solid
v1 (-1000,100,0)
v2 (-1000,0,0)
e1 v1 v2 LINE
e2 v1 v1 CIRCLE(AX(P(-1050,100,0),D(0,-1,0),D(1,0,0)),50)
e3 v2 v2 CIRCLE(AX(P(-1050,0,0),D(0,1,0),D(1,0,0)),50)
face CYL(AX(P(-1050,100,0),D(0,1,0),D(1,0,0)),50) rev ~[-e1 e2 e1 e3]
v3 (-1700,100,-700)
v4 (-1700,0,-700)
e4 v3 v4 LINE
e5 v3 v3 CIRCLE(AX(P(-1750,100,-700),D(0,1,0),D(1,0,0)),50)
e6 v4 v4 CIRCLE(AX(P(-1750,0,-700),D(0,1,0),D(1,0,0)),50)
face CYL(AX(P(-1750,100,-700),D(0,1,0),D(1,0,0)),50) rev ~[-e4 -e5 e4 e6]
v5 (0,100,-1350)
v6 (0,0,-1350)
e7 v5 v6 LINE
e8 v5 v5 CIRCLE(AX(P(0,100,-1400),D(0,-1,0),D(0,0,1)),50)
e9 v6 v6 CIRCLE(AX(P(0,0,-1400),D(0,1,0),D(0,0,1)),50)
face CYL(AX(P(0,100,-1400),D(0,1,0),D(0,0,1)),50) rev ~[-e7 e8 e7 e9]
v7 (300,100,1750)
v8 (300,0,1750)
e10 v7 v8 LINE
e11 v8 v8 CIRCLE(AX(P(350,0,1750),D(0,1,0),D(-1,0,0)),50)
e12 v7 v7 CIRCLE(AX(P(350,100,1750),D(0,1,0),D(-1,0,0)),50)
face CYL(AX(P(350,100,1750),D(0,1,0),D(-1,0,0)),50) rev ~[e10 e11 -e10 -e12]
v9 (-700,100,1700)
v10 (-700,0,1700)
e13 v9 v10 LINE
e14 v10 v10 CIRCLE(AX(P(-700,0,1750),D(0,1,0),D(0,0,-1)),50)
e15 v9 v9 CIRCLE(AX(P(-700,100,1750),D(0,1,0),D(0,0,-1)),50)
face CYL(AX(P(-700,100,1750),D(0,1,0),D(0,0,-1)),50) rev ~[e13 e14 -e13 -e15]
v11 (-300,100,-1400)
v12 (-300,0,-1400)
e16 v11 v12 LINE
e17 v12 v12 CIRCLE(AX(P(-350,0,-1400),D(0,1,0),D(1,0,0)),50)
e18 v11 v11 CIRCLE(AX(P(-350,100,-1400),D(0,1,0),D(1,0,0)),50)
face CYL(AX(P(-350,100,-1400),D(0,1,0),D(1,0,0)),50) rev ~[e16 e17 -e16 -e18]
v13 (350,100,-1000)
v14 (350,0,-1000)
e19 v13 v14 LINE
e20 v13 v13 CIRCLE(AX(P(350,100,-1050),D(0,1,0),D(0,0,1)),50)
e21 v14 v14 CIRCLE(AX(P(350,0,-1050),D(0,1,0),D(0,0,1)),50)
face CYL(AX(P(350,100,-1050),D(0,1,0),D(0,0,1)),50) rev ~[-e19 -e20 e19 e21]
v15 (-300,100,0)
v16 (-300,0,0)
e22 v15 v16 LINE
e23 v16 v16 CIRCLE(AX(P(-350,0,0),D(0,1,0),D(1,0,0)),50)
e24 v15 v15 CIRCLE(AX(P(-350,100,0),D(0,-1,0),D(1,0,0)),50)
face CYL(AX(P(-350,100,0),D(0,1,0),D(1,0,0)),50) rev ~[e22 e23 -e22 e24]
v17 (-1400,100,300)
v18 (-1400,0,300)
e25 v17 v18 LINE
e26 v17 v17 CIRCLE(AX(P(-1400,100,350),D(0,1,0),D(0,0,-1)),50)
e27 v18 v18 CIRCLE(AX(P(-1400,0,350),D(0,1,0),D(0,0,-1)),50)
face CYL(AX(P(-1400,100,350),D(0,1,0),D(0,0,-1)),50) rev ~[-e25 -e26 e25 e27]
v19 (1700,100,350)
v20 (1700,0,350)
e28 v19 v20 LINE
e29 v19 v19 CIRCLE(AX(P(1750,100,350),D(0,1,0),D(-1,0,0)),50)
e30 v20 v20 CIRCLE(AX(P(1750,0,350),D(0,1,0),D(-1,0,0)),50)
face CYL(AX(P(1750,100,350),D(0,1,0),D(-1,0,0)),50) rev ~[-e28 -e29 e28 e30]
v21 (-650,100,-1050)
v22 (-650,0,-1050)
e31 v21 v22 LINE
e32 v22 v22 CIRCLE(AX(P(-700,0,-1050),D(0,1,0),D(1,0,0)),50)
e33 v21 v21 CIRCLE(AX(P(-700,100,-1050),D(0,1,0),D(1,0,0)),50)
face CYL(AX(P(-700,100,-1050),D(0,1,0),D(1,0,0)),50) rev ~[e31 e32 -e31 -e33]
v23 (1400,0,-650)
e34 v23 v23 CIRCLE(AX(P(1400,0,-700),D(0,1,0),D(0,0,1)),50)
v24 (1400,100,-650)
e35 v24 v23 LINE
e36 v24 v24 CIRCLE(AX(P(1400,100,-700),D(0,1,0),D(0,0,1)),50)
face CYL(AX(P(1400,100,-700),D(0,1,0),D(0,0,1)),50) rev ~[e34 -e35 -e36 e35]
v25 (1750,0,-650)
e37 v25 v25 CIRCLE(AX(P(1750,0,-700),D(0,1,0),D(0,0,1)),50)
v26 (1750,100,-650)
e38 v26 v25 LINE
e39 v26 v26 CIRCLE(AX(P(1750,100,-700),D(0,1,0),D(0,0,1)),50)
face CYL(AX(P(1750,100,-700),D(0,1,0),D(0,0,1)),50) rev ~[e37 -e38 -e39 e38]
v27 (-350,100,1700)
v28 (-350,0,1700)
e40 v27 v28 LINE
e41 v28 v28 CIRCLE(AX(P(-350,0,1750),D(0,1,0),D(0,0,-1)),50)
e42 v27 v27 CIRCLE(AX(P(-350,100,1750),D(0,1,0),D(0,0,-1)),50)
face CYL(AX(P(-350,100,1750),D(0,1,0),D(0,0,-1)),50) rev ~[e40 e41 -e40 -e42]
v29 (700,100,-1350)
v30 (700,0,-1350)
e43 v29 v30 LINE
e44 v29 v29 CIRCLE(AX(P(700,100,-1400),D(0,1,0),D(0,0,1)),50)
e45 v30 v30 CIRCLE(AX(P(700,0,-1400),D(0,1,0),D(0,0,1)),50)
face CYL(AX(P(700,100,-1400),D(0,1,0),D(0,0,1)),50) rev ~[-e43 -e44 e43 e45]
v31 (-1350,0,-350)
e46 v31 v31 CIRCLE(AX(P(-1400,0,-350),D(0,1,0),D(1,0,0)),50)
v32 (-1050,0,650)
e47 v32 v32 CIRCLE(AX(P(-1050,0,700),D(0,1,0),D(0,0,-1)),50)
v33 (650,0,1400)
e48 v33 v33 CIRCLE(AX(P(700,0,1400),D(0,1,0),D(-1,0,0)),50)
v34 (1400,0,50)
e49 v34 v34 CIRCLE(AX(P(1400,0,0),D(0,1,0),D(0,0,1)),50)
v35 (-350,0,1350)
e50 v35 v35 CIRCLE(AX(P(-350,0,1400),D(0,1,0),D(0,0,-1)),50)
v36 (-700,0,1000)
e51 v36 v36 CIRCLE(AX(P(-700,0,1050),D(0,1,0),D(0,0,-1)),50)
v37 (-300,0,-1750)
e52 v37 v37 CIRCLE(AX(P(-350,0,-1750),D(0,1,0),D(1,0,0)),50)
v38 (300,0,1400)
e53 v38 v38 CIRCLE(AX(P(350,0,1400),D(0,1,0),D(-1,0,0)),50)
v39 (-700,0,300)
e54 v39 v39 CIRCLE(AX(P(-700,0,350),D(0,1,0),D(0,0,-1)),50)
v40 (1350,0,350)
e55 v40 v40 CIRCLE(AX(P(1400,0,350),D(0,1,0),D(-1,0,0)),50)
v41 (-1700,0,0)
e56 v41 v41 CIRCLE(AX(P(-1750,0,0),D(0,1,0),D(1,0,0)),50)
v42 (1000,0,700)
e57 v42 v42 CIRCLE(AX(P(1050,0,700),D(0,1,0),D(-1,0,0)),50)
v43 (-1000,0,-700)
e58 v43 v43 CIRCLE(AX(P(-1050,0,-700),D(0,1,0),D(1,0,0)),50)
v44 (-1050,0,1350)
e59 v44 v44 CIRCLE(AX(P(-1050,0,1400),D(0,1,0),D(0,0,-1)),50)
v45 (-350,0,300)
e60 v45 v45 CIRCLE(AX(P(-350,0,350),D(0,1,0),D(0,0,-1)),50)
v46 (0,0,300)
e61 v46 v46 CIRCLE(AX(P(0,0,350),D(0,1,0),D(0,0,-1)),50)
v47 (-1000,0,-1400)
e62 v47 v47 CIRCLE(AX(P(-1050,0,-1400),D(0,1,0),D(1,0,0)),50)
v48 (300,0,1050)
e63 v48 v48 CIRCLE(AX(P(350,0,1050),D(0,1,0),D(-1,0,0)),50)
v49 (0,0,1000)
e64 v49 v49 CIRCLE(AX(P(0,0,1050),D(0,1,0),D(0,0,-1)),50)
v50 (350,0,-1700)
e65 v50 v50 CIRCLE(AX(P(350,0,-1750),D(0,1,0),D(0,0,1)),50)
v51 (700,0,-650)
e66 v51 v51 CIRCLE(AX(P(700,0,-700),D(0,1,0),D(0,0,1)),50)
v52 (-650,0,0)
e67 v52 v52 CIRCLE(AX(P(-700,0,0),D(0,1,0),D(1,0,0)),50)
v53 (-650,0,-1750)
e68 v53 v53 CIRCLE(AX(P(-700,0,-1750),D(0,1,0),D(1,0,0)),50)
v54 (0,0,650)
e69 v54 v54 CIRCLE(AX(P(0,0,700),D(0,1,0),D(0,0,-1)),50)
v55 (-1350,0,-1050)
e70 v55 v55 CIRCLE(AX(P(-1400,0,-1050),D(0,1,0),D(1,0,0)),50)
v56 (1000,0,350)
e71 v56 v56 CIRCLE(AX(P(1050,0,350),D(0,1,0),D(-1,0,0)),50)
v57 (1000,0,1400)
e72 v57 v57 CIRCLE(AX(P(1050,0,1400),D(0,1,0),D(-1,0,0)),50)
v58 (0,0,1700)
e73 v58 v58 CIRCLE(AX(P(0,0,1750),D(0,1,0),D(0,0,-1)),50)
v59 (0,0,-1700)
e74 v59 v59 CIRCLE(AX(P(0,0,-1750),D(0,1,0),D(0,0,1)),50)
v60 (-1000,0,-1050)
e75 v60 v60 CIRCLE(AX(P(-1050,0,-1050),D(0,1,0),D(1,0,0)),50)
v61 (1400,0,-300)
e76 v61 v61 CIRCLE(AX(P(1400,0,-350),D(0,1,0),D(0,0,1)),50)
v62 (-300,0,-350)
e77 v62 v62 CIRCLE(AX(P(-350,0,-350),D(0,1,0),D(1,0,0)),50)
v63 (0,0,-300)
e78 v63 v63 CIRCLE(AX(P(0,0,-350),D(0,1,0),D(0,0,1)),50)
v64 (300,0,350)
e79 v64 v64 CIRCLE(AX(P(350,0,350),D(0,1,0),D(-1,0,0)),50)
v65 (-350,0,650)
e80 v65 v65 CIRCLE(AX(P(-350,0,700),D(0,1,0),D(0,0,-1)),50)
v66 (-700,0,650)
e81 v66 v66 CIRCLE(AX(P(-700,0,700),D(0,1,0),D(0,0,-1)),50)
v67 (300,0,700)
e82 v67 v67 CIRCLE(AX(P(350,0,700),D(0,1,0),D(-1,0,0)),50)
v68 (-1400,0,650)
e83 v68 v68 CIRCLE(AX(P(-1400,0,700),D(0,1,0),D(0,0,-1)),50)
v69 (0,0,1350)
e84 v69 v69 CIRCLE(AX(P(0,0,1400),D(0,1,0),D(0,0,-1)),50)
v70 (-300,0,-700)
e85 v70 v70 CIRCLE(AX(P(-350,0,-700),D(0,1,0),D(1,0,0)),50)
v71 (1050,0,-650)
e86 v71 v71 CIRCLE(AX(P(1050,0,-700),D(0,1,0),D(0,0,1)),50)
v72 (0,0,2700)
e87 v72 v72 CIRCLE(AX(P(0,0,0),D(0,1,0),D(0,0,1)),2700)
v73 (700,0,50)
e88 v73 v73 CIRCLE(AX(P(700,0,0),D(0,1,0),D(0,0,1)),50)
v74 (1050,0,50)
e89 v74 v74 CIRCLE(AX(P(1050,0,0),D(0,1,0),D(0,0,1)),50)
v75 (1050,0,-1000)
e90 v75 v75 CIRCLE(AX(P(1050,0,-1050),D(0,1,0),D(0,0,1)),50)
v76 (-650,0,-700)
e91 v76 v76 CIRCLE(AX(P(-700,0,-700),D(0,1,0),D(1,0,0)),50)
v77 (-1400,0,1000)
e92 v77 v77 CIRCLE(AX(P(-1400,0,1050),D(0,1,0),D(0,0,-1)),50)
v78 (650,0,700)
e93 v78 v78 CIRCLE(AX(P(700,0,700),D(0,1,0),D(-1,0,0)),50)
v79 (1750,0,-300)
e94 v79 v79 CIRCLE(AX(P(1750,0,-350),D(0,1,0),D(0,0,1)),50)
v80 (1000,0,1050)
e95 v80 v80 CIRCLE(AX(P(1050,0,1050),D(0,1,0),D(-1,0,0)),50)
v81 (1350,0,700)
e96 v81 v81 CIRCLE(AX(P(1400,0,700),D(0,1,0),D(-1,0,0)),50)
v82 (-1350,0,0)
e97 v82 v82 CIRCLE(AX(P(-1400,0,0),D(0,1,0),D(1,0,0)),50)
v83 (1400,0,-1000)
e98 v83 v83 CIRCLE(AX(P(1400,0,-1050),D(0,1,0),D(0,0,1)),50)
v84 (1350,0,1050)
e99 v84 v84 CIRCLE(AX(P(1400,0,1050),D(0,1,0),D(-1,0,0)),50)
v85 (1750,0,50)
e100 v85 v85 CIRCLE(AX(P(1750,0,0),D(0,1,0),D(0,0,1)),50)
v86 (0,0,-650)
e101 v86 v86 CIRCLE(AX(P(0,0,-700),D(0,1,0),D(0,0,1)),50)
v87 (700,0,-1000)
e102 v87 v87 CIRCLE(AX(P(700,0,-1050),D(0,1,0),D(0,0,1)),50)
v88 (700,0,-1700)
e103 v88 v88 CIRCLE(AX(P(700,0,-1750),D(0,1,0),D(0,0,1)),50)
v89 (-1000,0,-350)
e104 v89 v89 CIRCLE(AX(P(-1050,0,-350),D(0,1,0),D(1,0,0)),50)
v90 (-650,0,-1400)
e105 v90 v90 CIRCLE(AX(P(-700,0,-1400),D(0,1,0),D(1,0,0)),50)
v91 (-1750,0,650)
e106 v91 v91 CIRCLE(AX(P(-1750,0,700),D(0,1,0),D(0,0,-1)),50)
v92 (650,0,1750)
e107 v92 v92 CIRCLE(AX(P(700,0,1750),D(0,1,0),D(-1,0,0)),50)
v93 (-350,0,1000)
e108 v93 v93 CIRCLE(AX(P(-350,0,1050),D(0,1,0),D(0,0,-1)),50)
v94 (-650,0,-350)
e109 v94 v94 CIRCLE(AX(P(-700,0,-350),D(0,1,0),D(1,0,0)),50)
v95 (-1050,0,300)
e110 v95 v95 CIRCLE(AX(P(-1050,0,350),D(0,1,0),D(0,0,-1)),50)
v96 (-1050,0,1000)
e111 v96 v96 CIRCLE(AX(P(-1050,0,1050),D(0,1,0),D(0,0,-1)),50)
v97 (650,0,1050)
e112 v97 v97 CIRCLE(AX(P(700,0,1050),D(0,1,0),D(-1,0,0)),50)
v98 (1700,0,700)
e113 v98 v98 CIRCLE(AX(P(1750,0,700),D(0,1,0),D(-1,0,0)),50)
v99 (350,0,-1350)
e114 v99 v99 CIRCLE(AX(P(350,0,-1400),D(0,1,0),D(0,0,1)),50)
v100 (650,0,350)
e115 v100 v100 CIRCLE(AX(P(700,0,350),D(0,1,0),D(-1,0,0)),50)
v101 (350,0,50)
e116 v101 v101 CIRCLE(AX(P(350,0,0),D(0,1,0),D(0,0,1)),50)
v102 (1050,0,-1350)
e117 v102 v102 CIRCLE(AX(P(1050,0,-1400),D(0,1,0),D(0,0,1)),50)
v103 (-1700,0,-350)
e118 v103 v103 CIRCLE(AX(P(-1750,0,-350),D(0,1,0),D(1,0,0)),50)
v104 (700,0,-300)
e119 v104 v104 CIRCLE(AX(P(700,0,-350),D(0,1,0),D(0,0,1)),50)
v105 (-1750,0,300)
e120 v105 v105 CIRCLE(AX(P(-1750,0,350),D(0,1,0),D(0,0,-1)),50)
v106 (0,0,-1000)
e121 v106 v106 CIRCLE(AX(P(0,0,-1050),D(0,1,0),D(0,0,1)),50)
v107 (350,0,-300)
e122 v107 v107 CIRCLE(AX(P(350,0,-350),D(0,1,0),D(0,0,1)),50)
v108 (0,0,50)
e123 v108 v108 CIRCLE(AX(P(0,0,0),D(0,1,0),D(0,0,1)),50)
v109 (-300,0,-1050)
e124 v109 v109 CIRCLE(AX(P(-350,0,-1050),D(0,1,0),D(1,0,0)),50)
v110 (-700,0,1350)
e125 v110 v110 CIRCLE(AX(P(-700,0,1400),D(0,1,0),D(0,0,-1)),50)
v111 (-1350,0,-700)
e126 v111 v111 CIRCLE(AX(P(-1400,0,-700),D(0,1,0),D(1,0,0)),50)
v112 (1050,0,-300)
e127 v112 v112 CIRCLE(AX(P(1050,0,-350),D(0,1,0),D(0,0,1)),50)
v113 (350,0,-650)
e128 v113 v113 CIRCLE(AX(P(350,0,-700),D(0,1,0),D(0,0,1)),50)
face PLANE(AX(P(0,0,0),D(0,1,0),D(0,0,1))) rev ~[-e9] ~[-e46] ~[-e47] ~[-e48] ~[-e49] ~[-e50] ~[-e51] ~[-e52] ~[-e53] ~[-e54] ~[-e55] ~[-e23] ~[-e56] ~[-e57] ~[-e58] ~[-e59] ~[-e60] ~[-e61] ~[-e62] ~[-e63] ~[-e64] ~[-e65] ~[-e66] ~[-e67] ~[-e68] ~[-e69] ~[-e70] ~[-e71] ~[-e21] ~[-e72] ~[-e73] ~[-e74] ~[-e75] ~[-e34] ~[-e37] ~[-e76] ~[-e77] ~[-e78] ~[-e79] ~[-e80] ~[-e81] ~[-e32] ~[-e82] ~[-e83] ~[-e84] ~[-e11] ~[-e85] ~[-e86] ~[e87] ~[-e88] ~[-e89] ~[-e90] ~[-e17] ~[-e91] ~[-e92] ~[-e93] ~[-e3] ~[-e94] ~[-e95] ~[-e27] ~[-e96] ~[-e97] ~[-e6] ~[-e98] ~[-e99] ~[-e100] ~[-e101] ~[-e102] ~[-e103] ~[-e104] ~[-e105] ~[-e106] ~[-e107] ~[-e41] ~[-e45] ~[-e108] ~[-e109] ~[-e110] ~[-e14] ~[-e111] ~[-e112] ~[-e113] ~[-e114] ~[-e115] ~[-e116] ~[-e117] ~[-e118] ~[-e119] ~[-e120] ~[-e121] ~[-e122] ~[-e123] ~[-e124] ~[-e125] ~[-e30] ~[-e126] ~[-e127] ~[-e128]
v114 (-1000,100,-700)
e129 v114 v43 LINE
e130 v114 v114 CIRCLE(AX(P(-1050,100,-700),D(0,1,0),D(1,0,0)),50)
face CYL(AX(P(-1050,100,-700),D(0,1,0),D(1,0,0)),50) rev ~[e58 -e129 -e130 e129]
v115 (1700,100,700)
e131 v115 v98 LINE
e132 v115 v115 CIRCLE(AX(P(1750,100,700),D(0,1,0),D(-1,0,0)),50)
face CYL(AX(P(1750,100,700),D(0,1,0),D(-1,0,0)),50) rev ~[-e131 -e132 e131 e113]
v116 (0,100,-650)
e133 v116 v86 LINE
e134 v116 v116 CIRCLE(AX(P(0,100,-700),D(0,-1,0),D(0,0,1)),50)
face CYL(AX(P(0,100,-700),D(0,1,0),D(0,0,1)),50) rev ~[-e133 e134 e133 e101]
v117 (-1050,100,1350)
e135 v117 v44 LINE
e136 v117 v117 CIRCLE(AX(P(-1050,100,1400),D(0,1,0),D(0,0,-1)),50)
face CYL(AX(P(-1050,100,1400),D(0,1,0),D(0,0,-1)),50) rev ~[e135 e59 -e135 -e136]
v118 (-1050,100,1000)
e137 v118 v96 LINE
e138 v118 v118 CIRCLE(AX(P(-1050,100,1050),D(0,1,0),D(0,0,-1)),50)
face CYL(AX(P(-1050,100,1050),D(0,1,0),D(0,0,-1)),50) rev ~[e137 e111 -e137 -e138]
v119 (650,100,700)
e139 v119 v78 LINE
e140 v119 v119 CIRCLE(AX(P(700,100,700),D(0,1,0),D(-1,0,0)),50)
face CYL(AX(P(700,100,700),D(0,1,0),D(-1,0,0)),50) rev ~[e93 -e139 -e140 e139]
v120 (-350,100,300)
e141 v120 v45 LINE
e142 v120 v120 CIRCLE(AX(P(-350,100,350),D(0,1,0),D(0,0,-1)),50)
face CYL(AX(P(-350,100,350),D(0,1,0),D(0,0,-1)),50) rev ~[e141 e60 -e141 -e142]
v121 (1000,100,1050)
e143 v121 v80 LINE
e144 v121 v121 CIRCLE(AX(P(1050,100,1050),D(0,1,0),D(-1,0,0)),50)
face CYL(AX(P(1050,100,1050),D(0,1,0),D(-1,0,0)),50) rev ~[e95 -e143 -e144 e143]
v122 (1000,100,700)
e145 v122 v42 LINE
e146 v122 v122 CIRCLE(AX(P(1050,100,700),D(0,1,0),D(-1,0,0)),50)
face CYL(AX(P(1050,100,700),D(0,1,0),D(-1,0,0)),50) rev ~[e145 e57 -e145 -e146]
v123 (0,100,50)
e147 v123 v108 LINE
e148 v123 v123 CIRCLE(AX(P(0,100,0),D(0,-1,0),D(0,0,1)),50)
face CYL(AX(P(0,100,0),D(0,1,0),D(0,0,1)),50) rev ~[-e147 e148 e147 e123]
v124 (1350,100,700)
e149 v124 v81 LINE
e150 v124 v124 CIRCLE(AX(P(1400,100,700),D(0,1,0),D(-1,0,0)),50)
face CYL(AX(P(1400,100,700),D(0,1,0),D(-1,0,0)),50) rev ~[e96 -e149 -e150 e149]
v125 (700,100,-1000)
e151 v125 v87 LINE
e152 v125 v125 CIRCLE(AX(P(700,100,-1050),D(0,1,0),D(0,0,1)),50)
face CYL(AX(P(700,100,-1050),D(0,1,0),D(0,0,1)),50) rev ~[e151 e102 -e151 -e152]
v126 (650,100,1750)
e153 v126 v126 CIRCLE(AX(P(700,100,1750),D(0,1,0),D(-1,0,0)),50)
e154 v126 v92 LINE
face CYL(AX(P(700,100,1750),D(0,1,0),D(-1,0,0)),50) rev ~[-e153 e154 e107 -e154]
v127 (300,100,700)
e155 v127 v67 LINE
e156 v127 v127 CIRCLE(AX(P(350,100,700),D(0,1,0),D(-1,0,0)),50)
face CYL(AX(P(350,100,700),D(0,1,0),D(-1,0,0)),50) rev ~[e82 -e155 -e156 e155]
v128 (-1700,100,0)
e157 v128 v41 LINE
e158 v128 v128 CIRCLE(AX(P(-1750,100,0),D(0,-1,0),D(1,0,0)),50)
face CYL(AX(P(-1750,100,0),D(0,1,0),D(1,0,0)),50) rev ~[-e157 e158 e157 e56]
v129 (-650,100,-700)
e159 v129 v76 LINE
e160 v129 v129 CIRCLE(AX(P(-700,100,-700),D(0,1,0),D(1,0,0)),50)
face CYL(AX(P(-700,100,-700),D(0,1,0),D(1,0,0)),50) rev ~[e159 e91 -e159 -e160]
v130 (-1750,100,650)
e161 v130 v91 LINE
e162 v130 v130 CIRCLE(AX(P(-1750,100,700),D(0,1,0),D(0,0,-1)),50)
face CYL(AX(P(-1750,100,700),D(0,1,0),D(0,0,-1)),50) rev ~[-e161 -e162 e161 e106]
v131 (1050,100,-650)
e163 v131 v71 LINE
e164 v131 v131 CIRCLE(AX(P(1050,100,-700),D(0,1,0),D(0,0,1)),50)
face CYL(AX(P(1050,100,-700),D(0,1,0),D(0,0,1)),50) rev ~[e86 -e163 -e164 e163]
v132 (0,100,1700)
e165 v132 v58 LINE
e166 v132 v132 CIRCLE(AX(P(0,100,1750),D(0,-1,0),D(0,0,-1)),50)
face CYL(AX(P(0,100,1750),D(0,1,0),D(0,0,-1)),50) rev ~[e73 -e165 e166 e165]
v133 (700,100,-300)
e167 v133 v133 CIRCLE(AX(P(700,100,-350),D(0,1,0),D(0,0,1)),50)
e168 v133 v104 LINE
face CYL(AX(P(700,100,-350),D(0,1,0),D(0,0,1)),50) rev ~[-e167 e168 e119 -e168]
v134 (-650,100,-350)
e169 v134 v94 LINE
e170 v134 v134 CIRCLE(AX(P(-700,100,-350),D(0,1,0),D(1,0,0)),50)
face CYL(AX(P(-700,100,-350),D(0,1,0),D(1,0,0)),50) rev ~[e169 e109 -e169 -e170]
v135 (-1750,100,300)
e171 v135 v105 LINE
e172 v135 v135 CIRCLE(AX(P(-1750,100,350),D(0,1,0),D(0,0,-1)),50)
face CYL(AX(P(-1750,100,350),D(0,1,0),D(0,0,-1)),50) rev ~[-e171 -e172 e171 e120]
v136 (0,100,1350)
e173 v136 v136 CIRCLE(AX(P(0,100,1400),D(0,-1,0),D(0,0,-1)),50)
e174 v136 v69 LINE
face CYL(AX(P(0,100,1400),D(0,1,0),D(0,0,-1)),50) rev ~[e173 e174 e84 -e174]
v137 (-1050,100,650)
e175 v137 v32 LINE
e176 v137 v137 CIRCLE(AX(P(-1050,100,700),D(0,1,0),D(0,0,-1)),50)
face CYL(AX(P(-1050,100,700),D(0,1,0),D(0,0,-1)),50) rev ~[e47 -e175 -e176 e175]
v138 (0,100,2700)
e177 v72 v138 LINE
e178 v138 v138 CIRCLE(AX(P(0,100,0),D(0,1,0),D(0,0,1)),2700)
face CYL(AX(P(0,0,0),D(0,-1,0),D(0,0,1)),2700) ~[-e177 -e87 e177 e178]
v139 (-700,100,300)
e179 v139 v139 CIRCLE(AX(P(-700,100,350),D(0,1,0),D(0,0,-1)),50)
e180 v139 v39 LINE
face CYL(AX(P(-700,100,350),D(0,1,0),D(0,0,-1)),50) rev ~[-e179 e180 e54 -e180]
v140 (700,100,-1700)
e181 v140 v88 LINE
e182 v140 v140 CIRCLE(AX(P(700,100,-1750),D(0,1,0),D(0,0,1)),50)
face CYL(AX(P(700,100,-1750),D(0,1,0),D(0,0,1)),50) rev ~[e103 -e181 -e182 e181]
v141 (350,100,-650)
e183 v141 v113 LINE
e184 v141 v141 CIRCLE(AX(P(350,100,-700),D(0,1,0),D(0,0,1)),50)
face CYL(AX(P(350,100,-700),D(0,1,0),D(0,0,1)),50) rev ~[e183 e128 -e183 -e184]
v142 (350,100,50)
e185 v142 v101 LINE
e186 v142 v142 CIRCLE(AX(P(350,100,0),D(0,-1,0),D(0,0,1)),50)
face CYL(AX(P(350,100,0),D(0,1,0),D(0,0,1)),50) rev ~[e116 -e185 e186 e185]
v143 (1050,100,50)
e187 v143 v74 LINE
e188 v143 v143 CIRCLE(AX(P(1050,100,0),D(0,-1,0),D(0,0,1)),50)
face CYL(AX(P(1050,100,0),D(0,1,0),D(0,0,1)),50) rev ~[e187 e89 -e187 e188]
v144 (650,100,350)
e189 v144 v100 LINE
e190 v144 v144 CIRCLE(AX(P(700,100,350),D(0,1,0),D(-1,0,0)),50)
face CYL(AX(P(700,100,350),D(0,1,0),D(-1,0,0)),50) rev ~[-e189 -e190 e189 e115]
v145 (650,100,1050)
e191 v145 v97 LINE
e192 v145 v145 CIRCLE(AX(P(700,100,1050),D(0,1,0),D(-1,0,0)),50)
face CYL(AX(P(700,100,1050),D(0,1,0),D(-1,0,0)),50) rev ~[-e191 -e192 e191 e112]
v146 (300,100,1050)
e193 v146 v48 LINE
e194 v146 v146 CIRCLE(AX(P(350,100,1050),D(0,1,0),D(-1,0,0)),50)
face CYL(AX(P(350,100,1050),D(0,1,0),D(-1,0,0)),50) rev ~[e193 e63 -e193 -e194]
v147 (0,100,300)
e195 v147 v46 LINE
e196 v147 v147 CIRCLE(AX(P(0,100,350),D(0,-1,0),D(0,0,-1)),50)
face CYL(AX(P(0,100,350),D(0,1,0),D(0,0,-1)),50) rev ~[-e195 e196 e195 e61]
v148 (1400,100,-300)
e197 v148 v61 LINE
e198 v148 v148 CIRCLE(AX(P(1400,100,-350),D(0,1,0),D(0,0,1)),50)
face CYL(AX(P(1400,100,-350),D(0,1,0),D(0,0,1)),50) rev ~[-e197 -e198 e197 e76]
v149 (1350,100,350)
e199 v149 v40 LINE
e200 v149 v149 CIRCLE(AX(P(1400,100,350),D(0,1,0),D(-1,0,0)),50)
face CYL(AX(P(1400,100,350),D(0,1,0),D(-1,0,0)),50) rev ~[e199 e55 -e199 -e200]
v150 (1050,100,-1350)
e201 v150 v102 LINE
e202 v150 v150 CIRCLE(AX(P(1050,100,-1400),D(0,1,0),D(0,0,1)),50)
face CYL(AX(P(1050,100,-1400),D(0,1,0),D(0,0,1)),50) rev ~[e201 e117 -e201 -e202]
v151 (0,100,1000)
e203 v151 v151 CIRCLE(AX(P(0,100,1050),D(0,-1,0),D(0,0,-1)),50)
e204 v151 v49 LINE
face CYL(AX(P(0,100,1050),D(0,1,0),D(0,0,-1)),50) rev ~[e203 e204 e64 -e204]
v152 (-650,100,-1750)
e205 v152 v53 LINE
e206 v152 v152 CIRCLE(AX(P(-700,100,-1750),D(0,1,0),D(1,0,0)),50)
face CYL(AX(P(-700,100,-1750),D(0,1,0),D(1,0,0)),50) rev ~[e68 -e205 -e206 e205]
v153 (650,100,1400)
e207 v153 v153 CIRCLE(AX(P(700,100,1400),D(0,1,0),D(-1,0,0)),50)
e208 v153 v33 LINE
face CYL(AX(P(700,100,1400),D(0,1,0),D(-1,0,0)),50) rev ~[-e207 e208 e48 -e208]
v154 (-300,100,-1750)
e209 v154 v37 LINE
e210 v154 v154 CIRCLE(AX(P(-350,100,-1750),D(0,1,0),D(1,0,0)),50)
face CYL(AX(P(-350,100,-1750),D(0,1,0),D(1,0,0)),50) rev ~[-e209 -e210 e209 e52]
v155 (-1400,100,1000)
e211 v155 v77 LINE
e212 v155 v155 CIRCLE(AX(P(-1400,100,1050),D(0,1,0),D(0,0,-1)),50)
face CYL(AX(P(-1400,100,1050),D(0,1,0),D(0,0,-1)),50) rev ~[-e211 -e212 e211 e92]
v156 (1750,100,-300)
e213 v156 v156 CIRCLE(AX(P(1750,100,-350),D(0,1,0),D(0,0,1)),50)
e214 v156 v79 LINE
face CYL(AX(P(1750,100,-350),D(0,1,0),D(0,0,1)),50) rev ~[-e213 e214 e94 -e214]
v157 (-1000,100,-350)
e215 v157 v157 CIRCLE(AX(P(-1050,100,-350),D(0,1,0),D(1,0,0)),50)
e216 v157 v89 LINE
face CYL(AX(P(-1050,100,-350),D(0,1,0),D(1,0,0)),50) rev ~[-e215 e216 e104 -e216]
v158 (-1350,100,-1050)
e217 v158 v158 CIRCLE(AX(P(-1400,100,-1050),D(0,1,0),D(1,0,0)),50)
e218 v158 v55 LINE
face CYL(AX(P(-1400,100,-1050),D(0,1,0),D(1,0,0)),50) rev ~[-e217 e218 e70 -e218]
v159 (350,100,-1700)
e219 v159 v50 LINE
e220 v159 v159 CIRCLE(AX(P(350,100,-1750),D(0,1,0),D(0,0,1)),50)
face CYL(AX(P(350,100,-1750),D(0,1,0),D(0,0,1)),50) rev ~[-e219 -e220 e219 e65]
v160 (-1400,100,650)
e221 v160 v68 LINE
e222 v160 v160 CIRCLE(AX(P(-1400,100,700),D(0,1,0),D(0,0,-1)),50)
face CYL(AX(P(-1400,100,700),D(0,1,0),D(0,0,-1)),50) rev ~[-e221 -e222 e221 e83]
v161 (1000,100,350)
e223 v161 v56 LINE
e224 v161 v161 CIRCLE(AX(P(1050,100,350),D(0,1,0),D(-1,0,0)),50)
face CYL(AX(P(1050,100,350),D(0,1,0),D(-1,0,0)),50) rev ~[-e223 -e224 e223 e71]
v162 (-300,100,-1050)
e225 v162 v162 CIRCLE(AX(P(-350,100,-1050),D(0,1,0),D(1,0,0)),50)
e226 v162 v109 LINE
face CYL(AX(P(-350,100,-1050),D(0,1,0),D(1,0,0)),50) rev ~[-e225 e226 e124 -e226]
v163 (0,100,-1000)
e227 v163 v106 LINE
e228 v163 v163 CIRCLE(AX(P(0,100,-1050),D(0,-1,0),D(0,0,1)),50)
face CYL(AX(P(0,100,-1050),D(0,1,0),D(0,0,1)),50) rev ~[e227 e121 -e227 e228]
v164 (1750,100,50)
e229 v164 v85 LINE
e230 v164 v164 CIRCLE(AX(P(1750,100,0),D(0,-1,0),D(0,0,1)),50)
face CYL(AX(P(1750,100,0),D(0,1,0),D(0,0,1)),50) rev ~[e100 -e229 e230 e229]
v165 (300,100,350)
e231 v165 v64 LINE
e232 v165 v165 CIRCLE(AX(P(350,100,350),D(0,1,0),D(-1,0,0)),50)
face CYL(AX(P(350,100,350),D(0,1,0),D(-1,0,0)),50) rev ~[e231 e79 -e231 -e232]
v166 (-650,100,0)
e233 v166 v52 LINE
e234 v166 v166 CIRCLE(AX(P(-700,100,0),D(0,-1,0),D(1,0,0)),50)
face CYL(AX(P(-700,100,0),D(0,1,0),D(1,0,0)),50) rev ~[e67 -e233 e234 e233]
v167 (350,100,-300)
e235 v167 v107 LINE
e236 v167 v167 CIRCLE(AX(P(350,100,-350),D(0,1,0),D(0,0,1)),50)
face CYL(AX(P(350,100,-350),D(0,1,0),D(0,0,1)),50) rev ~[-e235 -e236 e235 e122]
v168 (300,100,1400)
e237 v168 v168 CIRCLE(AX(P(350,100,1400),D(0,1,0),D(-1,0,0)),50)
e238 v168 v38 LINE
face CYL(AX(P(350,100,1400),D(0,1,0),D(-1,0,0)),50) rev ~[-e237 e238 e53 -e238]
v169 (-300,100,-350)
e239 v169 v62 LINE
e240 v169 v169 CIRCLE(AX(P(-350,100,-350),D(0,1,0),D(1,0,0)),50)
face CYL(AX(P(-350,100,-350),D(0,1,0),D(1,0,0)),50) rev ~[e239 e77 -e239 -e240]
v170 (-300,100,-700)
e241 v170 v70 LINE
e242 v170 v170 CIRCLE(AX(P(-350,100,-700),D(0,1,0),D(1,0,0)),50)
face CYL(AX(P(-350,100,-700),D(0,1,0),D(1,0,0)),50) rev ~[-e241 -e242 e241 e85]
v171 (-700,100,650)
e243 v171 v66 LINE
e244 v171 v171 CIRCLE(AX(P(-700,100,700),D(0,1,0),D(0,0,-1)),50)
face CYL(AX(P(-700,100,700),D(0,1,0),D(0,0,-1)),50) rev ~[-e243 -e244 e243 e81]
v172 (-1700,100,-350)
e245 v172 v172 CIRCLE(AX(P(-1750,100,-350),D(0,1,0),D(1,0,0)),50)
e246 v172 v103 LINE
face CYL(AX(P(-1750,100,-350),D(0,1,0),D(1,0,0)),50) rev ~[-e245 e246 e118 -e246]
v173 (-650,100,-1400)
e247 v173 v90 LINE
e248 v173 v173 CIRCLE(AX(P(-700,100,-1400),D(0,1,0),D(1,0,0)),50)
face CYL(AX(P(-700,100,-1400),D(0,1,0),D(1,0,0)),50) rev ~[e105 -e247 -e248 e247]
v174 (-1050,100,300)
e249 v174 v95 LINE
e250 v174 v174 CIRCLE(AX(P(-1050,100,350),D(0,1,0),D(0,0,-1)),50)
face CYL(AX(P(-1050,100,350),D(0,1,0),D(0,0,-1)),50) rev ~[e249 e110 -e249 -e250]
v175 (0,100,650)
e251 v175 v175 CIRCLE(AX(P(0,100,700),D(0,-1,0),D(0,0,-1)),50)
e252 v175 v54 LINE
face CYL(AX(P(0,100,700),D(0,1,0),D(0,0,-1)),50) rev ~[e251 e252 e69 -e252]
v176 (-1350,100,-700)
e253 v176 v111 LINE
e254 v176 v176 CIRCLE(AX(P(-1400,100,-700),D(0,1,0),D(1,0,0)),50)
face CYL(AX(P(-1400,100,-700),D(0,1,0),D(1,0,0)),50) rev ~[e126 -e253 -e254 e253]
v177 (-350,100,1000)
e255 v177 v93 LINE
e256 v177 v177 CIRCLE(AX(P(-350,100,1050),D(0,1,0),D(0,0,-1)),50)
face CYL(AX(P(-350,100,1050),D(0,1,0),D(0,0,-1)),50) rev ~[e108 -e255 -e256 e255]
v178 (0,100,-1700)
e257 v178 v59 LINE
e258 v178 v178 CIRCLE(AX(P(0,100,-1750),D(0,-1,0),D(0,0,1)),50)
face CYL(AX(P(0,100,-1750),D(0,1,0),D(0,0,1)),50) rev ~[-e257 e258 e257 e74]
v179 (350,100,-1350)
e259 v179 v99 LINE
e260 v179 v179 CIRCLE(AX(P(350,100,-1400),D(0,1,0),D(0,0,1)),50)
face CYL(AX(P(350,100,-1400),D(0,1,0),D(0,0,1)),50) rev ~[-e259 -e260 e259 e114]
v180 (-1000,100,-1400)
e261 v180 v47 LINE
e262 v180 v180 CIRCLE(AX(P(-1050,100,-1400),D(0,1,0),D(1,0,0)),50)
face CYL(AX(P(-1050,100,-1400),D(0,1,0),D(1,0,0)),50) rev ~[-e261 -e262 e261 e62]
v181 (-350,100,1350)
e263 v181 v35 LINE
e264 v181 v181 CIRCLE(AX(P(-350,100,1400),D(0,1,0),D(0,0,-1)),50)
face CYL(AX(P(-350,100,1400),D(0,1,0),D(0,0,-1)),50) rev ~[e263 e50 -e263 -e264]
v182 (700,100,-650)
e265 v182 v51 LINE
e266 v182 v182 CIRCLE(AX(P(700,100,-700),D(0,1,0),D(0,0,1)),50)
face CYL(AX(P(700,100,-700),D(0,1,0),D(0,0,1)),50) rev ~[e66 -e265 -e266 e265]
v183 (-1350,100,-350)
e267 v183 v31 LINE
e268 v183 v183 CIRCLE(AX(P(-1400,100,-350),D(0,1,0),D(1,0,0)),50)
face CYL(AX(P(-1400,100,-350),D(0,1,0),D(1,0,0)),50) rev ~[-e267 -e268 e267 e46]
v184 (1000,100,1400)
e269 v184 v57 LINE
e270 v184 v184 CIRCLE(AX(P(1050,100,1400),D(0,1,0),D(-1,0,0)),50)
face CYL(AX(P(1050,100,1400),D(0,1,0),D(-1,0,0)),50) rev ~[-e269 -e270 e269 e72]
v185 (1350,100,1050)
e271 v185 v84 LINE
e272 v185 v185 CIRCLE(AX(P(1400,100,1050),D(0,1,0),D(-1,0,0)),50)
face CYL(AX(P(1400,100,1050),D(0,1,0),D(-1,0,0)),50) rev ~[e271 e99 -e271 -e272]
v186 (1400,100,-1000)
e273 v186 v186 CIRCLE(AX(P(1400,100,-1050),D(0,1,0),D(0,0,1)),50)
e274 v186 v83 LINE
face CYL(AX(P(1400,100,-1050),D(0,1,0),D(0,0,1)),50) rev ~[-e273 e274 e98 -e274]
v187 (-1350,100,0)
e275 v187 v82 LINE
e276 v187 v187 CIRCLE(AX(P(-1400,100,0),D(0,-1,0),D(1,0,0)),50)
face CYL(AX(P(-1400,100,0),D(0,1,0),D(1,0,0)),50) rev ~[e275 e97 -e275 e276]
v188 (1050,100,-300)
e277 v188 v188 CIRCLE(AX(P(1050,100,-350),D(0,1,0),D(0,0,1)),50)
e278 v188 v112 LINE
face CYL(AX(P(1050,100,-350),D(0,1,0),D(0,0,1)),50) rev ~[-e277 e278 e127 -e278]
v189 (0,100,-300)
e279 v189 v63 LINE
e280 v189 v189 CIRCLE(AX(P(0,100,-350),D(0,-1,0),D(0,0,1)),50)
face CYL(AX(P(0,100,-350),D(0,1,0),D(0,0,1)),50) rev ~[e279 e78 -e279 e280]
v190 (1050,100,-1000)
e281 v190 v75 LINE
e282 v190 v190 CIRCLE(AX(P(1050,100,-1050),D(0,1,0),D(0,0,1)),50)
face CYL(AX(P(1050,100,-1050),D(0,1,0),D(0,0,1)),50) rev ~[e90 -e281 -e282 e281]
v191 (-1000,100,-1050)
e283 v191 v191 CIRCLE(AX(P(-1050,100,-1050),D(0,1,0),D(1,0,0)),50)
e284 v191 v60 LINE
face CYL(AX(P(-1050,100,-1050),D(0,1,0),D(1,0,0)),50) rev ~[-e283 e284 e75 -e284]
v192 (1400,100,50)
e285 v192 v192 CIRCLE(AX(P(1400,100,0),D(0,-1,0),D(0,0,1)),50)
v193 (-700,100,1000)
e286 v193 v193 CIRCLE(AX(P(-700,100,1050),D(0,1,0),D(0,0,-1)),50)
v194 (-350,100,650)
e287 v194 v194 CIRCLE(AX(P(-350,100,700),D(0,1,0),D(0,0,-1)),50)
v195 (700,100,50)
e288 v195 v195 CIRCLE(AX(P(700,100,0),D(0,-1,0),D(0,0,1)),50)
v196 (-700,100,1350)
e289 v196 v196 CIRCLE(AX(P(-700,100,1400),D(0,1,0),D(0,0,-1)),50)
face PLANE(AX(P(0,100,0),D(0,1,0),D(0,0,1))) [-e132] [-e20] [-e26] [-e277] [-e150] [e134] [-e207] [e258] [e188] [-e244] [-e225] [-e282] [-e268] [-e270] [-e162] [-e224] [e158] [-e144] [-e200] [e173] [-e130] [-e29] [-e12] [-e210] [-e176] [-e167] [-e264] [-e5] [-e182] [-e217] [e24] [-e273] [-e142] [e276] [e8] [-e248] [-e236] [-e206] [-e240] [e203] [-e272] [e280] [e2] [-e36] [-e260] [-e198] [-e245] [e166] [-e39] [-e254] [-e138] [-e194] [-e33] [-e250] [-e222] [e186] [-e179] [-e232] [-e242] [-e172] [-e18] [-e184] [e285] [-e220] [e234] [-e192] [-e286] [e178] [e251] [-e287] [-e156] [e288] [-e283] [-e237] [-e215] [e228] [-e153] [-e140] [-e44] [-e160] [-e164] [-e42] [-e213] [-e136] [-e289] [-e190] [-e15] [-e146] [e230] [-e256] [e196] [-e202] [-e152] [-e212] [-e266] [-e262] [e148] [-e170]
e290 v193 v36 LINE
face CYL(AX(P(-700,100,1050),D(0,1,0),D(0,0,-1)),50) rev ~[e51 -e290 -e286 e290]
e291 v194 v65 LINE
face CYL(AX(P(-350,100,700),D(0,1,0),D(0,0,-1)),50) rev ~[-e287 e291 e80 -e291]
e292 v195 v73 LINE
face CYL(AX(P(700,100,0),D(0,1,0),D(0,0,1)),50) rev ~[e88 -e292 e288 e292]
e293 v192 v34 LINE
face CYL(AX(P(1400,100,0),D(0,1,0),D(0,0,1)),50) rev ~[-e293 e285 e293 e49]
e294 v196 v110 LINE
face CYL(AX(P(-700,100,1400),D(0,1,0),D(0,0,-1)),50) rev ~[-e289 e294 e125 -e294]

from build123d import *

# Parameters (mm, degrees)
SKETCH_1_R               = 2700
EXTRUDE_1_DEPTH          = 100
SKETCH_3_R               = 50
CUT_EXTRUDE_1_DEPTH      = 3820.685850957
PATTERN_CIRCULAR_1_COUNT = 4


with BuildPart() as part:
    # ｽｹｯﾁ1 → ﾎﾞｽ - 押し出し1 (new body)
    with BuildSketch(Plane(origin=(0, 0, 0), x_dir=(1, 0, 0), z_dir=(0, 1, 0))):
        Circle(SKETCH_1_R)
    extrude(amount=EXTRUDE_1_DEPTH)

    # ｽｹｯﾁ3 → ｶｯﾄ - 押し出し1 (cut, through all)
    with BuildSketch(Plane(origin=(0, 100, 0), x_dir=(1, 0, 0), z_dir=(0, 1, 0))):
        Circle(SKETCH_3_R)
        with Locations((350, 0)):
            Circle(SKETCH_3_R)
        with Locations((700, 0)):
            Circle(SKETCH_3_R)
        with Locations((1050, 0)):
            Circle(SKETCH_3_R)
        with Locations((1400, 0)):
            Circle(SKETCH_3_R)
        with Locations((1750, 0)):
            Circle(SKETCH_3_R)
        with Locations((350, 350)):
            Circle(SKETCH_3_R)
        with Locations((700, 350)):
            Circle(SKETCH_3_R)
        with Locations((1050, 350)):
            Circle(SKETCH_3_R)
        with Locations((1400, 350)):
            Circle(SKETCH_3_R)
        with Locations((1750, 350)):
            Circle(SKETCH_3_R)
        with Locations((350, 700)):
            Circle(SKETCH_3_R)
        with Locations((700, 700)):
            Circle(SKETCH_3_R)
        with Locations((1050, 700)):
            Circle(SKETCH_3_R)
        with Locations((1400, 700)):
            Circle(SKETCH_3_R)
        with Locations((1750, 700)):
            Circle(SKETCH_3_R)
        with Locations((350, 1050)):
            Circle(SKETCH_3_R)
        with Locations((700, 1050)):
            Circle(SKETCH_3_R)
        with Locations((1050, 1050)):
            Circle(SKETCH_3_R)
        with Locations((1400, 1050)):
            Circle(SKETCH_3_R)
        with Locations((350, 1400)):
            Circle(SKETCH_3_R)
        with Locations((700, 1400)):
            Circle(SKETCH_3_R)
        with Locations((1050, 1400)):
            Circle(SKETCH_3_R)
        with Locations((350, 1750)):
            Circle(SKETCH_3_R)
        with Locations((700, 1750)):
            Circle(SKETCH_3_R)
        with Locations((0, 350)):
            Circle(SKETCH_3_R)
        with Locations((0, 700)):
            Circle(SKETCH_3_R)
        with Locations((0, 1050)):
            Circle(SKETCH_3_R)
        with Locations((0, 1400)):
            Circle(SKETCH_3_R)
        with Locations((0, 1750)):
            Circle(SKETCH_3_R)
    cut_extrude_1 = extrude(amount=-CUT_EXTRUDE_1_DEPTH, mode=Mode.SUBTRACT)

    # 円形ﾊﾟﾀｰﾝ1: ｶｯﾄ - 押し出し1 ×4 about axis
    pattern_circular_1_axis = Axis((0, 100, 0), (0, -1, 0))
    for i in range(1, PATTERN_CIRCULAR_1_COUNT):
        add(cut_extrude_1.rotate(pattern_circular_1_axis, i * 360 / PATTERN_CIRCULAR_1_COUNT), mode=Mode.SUBTRACT)


solid = part.part
